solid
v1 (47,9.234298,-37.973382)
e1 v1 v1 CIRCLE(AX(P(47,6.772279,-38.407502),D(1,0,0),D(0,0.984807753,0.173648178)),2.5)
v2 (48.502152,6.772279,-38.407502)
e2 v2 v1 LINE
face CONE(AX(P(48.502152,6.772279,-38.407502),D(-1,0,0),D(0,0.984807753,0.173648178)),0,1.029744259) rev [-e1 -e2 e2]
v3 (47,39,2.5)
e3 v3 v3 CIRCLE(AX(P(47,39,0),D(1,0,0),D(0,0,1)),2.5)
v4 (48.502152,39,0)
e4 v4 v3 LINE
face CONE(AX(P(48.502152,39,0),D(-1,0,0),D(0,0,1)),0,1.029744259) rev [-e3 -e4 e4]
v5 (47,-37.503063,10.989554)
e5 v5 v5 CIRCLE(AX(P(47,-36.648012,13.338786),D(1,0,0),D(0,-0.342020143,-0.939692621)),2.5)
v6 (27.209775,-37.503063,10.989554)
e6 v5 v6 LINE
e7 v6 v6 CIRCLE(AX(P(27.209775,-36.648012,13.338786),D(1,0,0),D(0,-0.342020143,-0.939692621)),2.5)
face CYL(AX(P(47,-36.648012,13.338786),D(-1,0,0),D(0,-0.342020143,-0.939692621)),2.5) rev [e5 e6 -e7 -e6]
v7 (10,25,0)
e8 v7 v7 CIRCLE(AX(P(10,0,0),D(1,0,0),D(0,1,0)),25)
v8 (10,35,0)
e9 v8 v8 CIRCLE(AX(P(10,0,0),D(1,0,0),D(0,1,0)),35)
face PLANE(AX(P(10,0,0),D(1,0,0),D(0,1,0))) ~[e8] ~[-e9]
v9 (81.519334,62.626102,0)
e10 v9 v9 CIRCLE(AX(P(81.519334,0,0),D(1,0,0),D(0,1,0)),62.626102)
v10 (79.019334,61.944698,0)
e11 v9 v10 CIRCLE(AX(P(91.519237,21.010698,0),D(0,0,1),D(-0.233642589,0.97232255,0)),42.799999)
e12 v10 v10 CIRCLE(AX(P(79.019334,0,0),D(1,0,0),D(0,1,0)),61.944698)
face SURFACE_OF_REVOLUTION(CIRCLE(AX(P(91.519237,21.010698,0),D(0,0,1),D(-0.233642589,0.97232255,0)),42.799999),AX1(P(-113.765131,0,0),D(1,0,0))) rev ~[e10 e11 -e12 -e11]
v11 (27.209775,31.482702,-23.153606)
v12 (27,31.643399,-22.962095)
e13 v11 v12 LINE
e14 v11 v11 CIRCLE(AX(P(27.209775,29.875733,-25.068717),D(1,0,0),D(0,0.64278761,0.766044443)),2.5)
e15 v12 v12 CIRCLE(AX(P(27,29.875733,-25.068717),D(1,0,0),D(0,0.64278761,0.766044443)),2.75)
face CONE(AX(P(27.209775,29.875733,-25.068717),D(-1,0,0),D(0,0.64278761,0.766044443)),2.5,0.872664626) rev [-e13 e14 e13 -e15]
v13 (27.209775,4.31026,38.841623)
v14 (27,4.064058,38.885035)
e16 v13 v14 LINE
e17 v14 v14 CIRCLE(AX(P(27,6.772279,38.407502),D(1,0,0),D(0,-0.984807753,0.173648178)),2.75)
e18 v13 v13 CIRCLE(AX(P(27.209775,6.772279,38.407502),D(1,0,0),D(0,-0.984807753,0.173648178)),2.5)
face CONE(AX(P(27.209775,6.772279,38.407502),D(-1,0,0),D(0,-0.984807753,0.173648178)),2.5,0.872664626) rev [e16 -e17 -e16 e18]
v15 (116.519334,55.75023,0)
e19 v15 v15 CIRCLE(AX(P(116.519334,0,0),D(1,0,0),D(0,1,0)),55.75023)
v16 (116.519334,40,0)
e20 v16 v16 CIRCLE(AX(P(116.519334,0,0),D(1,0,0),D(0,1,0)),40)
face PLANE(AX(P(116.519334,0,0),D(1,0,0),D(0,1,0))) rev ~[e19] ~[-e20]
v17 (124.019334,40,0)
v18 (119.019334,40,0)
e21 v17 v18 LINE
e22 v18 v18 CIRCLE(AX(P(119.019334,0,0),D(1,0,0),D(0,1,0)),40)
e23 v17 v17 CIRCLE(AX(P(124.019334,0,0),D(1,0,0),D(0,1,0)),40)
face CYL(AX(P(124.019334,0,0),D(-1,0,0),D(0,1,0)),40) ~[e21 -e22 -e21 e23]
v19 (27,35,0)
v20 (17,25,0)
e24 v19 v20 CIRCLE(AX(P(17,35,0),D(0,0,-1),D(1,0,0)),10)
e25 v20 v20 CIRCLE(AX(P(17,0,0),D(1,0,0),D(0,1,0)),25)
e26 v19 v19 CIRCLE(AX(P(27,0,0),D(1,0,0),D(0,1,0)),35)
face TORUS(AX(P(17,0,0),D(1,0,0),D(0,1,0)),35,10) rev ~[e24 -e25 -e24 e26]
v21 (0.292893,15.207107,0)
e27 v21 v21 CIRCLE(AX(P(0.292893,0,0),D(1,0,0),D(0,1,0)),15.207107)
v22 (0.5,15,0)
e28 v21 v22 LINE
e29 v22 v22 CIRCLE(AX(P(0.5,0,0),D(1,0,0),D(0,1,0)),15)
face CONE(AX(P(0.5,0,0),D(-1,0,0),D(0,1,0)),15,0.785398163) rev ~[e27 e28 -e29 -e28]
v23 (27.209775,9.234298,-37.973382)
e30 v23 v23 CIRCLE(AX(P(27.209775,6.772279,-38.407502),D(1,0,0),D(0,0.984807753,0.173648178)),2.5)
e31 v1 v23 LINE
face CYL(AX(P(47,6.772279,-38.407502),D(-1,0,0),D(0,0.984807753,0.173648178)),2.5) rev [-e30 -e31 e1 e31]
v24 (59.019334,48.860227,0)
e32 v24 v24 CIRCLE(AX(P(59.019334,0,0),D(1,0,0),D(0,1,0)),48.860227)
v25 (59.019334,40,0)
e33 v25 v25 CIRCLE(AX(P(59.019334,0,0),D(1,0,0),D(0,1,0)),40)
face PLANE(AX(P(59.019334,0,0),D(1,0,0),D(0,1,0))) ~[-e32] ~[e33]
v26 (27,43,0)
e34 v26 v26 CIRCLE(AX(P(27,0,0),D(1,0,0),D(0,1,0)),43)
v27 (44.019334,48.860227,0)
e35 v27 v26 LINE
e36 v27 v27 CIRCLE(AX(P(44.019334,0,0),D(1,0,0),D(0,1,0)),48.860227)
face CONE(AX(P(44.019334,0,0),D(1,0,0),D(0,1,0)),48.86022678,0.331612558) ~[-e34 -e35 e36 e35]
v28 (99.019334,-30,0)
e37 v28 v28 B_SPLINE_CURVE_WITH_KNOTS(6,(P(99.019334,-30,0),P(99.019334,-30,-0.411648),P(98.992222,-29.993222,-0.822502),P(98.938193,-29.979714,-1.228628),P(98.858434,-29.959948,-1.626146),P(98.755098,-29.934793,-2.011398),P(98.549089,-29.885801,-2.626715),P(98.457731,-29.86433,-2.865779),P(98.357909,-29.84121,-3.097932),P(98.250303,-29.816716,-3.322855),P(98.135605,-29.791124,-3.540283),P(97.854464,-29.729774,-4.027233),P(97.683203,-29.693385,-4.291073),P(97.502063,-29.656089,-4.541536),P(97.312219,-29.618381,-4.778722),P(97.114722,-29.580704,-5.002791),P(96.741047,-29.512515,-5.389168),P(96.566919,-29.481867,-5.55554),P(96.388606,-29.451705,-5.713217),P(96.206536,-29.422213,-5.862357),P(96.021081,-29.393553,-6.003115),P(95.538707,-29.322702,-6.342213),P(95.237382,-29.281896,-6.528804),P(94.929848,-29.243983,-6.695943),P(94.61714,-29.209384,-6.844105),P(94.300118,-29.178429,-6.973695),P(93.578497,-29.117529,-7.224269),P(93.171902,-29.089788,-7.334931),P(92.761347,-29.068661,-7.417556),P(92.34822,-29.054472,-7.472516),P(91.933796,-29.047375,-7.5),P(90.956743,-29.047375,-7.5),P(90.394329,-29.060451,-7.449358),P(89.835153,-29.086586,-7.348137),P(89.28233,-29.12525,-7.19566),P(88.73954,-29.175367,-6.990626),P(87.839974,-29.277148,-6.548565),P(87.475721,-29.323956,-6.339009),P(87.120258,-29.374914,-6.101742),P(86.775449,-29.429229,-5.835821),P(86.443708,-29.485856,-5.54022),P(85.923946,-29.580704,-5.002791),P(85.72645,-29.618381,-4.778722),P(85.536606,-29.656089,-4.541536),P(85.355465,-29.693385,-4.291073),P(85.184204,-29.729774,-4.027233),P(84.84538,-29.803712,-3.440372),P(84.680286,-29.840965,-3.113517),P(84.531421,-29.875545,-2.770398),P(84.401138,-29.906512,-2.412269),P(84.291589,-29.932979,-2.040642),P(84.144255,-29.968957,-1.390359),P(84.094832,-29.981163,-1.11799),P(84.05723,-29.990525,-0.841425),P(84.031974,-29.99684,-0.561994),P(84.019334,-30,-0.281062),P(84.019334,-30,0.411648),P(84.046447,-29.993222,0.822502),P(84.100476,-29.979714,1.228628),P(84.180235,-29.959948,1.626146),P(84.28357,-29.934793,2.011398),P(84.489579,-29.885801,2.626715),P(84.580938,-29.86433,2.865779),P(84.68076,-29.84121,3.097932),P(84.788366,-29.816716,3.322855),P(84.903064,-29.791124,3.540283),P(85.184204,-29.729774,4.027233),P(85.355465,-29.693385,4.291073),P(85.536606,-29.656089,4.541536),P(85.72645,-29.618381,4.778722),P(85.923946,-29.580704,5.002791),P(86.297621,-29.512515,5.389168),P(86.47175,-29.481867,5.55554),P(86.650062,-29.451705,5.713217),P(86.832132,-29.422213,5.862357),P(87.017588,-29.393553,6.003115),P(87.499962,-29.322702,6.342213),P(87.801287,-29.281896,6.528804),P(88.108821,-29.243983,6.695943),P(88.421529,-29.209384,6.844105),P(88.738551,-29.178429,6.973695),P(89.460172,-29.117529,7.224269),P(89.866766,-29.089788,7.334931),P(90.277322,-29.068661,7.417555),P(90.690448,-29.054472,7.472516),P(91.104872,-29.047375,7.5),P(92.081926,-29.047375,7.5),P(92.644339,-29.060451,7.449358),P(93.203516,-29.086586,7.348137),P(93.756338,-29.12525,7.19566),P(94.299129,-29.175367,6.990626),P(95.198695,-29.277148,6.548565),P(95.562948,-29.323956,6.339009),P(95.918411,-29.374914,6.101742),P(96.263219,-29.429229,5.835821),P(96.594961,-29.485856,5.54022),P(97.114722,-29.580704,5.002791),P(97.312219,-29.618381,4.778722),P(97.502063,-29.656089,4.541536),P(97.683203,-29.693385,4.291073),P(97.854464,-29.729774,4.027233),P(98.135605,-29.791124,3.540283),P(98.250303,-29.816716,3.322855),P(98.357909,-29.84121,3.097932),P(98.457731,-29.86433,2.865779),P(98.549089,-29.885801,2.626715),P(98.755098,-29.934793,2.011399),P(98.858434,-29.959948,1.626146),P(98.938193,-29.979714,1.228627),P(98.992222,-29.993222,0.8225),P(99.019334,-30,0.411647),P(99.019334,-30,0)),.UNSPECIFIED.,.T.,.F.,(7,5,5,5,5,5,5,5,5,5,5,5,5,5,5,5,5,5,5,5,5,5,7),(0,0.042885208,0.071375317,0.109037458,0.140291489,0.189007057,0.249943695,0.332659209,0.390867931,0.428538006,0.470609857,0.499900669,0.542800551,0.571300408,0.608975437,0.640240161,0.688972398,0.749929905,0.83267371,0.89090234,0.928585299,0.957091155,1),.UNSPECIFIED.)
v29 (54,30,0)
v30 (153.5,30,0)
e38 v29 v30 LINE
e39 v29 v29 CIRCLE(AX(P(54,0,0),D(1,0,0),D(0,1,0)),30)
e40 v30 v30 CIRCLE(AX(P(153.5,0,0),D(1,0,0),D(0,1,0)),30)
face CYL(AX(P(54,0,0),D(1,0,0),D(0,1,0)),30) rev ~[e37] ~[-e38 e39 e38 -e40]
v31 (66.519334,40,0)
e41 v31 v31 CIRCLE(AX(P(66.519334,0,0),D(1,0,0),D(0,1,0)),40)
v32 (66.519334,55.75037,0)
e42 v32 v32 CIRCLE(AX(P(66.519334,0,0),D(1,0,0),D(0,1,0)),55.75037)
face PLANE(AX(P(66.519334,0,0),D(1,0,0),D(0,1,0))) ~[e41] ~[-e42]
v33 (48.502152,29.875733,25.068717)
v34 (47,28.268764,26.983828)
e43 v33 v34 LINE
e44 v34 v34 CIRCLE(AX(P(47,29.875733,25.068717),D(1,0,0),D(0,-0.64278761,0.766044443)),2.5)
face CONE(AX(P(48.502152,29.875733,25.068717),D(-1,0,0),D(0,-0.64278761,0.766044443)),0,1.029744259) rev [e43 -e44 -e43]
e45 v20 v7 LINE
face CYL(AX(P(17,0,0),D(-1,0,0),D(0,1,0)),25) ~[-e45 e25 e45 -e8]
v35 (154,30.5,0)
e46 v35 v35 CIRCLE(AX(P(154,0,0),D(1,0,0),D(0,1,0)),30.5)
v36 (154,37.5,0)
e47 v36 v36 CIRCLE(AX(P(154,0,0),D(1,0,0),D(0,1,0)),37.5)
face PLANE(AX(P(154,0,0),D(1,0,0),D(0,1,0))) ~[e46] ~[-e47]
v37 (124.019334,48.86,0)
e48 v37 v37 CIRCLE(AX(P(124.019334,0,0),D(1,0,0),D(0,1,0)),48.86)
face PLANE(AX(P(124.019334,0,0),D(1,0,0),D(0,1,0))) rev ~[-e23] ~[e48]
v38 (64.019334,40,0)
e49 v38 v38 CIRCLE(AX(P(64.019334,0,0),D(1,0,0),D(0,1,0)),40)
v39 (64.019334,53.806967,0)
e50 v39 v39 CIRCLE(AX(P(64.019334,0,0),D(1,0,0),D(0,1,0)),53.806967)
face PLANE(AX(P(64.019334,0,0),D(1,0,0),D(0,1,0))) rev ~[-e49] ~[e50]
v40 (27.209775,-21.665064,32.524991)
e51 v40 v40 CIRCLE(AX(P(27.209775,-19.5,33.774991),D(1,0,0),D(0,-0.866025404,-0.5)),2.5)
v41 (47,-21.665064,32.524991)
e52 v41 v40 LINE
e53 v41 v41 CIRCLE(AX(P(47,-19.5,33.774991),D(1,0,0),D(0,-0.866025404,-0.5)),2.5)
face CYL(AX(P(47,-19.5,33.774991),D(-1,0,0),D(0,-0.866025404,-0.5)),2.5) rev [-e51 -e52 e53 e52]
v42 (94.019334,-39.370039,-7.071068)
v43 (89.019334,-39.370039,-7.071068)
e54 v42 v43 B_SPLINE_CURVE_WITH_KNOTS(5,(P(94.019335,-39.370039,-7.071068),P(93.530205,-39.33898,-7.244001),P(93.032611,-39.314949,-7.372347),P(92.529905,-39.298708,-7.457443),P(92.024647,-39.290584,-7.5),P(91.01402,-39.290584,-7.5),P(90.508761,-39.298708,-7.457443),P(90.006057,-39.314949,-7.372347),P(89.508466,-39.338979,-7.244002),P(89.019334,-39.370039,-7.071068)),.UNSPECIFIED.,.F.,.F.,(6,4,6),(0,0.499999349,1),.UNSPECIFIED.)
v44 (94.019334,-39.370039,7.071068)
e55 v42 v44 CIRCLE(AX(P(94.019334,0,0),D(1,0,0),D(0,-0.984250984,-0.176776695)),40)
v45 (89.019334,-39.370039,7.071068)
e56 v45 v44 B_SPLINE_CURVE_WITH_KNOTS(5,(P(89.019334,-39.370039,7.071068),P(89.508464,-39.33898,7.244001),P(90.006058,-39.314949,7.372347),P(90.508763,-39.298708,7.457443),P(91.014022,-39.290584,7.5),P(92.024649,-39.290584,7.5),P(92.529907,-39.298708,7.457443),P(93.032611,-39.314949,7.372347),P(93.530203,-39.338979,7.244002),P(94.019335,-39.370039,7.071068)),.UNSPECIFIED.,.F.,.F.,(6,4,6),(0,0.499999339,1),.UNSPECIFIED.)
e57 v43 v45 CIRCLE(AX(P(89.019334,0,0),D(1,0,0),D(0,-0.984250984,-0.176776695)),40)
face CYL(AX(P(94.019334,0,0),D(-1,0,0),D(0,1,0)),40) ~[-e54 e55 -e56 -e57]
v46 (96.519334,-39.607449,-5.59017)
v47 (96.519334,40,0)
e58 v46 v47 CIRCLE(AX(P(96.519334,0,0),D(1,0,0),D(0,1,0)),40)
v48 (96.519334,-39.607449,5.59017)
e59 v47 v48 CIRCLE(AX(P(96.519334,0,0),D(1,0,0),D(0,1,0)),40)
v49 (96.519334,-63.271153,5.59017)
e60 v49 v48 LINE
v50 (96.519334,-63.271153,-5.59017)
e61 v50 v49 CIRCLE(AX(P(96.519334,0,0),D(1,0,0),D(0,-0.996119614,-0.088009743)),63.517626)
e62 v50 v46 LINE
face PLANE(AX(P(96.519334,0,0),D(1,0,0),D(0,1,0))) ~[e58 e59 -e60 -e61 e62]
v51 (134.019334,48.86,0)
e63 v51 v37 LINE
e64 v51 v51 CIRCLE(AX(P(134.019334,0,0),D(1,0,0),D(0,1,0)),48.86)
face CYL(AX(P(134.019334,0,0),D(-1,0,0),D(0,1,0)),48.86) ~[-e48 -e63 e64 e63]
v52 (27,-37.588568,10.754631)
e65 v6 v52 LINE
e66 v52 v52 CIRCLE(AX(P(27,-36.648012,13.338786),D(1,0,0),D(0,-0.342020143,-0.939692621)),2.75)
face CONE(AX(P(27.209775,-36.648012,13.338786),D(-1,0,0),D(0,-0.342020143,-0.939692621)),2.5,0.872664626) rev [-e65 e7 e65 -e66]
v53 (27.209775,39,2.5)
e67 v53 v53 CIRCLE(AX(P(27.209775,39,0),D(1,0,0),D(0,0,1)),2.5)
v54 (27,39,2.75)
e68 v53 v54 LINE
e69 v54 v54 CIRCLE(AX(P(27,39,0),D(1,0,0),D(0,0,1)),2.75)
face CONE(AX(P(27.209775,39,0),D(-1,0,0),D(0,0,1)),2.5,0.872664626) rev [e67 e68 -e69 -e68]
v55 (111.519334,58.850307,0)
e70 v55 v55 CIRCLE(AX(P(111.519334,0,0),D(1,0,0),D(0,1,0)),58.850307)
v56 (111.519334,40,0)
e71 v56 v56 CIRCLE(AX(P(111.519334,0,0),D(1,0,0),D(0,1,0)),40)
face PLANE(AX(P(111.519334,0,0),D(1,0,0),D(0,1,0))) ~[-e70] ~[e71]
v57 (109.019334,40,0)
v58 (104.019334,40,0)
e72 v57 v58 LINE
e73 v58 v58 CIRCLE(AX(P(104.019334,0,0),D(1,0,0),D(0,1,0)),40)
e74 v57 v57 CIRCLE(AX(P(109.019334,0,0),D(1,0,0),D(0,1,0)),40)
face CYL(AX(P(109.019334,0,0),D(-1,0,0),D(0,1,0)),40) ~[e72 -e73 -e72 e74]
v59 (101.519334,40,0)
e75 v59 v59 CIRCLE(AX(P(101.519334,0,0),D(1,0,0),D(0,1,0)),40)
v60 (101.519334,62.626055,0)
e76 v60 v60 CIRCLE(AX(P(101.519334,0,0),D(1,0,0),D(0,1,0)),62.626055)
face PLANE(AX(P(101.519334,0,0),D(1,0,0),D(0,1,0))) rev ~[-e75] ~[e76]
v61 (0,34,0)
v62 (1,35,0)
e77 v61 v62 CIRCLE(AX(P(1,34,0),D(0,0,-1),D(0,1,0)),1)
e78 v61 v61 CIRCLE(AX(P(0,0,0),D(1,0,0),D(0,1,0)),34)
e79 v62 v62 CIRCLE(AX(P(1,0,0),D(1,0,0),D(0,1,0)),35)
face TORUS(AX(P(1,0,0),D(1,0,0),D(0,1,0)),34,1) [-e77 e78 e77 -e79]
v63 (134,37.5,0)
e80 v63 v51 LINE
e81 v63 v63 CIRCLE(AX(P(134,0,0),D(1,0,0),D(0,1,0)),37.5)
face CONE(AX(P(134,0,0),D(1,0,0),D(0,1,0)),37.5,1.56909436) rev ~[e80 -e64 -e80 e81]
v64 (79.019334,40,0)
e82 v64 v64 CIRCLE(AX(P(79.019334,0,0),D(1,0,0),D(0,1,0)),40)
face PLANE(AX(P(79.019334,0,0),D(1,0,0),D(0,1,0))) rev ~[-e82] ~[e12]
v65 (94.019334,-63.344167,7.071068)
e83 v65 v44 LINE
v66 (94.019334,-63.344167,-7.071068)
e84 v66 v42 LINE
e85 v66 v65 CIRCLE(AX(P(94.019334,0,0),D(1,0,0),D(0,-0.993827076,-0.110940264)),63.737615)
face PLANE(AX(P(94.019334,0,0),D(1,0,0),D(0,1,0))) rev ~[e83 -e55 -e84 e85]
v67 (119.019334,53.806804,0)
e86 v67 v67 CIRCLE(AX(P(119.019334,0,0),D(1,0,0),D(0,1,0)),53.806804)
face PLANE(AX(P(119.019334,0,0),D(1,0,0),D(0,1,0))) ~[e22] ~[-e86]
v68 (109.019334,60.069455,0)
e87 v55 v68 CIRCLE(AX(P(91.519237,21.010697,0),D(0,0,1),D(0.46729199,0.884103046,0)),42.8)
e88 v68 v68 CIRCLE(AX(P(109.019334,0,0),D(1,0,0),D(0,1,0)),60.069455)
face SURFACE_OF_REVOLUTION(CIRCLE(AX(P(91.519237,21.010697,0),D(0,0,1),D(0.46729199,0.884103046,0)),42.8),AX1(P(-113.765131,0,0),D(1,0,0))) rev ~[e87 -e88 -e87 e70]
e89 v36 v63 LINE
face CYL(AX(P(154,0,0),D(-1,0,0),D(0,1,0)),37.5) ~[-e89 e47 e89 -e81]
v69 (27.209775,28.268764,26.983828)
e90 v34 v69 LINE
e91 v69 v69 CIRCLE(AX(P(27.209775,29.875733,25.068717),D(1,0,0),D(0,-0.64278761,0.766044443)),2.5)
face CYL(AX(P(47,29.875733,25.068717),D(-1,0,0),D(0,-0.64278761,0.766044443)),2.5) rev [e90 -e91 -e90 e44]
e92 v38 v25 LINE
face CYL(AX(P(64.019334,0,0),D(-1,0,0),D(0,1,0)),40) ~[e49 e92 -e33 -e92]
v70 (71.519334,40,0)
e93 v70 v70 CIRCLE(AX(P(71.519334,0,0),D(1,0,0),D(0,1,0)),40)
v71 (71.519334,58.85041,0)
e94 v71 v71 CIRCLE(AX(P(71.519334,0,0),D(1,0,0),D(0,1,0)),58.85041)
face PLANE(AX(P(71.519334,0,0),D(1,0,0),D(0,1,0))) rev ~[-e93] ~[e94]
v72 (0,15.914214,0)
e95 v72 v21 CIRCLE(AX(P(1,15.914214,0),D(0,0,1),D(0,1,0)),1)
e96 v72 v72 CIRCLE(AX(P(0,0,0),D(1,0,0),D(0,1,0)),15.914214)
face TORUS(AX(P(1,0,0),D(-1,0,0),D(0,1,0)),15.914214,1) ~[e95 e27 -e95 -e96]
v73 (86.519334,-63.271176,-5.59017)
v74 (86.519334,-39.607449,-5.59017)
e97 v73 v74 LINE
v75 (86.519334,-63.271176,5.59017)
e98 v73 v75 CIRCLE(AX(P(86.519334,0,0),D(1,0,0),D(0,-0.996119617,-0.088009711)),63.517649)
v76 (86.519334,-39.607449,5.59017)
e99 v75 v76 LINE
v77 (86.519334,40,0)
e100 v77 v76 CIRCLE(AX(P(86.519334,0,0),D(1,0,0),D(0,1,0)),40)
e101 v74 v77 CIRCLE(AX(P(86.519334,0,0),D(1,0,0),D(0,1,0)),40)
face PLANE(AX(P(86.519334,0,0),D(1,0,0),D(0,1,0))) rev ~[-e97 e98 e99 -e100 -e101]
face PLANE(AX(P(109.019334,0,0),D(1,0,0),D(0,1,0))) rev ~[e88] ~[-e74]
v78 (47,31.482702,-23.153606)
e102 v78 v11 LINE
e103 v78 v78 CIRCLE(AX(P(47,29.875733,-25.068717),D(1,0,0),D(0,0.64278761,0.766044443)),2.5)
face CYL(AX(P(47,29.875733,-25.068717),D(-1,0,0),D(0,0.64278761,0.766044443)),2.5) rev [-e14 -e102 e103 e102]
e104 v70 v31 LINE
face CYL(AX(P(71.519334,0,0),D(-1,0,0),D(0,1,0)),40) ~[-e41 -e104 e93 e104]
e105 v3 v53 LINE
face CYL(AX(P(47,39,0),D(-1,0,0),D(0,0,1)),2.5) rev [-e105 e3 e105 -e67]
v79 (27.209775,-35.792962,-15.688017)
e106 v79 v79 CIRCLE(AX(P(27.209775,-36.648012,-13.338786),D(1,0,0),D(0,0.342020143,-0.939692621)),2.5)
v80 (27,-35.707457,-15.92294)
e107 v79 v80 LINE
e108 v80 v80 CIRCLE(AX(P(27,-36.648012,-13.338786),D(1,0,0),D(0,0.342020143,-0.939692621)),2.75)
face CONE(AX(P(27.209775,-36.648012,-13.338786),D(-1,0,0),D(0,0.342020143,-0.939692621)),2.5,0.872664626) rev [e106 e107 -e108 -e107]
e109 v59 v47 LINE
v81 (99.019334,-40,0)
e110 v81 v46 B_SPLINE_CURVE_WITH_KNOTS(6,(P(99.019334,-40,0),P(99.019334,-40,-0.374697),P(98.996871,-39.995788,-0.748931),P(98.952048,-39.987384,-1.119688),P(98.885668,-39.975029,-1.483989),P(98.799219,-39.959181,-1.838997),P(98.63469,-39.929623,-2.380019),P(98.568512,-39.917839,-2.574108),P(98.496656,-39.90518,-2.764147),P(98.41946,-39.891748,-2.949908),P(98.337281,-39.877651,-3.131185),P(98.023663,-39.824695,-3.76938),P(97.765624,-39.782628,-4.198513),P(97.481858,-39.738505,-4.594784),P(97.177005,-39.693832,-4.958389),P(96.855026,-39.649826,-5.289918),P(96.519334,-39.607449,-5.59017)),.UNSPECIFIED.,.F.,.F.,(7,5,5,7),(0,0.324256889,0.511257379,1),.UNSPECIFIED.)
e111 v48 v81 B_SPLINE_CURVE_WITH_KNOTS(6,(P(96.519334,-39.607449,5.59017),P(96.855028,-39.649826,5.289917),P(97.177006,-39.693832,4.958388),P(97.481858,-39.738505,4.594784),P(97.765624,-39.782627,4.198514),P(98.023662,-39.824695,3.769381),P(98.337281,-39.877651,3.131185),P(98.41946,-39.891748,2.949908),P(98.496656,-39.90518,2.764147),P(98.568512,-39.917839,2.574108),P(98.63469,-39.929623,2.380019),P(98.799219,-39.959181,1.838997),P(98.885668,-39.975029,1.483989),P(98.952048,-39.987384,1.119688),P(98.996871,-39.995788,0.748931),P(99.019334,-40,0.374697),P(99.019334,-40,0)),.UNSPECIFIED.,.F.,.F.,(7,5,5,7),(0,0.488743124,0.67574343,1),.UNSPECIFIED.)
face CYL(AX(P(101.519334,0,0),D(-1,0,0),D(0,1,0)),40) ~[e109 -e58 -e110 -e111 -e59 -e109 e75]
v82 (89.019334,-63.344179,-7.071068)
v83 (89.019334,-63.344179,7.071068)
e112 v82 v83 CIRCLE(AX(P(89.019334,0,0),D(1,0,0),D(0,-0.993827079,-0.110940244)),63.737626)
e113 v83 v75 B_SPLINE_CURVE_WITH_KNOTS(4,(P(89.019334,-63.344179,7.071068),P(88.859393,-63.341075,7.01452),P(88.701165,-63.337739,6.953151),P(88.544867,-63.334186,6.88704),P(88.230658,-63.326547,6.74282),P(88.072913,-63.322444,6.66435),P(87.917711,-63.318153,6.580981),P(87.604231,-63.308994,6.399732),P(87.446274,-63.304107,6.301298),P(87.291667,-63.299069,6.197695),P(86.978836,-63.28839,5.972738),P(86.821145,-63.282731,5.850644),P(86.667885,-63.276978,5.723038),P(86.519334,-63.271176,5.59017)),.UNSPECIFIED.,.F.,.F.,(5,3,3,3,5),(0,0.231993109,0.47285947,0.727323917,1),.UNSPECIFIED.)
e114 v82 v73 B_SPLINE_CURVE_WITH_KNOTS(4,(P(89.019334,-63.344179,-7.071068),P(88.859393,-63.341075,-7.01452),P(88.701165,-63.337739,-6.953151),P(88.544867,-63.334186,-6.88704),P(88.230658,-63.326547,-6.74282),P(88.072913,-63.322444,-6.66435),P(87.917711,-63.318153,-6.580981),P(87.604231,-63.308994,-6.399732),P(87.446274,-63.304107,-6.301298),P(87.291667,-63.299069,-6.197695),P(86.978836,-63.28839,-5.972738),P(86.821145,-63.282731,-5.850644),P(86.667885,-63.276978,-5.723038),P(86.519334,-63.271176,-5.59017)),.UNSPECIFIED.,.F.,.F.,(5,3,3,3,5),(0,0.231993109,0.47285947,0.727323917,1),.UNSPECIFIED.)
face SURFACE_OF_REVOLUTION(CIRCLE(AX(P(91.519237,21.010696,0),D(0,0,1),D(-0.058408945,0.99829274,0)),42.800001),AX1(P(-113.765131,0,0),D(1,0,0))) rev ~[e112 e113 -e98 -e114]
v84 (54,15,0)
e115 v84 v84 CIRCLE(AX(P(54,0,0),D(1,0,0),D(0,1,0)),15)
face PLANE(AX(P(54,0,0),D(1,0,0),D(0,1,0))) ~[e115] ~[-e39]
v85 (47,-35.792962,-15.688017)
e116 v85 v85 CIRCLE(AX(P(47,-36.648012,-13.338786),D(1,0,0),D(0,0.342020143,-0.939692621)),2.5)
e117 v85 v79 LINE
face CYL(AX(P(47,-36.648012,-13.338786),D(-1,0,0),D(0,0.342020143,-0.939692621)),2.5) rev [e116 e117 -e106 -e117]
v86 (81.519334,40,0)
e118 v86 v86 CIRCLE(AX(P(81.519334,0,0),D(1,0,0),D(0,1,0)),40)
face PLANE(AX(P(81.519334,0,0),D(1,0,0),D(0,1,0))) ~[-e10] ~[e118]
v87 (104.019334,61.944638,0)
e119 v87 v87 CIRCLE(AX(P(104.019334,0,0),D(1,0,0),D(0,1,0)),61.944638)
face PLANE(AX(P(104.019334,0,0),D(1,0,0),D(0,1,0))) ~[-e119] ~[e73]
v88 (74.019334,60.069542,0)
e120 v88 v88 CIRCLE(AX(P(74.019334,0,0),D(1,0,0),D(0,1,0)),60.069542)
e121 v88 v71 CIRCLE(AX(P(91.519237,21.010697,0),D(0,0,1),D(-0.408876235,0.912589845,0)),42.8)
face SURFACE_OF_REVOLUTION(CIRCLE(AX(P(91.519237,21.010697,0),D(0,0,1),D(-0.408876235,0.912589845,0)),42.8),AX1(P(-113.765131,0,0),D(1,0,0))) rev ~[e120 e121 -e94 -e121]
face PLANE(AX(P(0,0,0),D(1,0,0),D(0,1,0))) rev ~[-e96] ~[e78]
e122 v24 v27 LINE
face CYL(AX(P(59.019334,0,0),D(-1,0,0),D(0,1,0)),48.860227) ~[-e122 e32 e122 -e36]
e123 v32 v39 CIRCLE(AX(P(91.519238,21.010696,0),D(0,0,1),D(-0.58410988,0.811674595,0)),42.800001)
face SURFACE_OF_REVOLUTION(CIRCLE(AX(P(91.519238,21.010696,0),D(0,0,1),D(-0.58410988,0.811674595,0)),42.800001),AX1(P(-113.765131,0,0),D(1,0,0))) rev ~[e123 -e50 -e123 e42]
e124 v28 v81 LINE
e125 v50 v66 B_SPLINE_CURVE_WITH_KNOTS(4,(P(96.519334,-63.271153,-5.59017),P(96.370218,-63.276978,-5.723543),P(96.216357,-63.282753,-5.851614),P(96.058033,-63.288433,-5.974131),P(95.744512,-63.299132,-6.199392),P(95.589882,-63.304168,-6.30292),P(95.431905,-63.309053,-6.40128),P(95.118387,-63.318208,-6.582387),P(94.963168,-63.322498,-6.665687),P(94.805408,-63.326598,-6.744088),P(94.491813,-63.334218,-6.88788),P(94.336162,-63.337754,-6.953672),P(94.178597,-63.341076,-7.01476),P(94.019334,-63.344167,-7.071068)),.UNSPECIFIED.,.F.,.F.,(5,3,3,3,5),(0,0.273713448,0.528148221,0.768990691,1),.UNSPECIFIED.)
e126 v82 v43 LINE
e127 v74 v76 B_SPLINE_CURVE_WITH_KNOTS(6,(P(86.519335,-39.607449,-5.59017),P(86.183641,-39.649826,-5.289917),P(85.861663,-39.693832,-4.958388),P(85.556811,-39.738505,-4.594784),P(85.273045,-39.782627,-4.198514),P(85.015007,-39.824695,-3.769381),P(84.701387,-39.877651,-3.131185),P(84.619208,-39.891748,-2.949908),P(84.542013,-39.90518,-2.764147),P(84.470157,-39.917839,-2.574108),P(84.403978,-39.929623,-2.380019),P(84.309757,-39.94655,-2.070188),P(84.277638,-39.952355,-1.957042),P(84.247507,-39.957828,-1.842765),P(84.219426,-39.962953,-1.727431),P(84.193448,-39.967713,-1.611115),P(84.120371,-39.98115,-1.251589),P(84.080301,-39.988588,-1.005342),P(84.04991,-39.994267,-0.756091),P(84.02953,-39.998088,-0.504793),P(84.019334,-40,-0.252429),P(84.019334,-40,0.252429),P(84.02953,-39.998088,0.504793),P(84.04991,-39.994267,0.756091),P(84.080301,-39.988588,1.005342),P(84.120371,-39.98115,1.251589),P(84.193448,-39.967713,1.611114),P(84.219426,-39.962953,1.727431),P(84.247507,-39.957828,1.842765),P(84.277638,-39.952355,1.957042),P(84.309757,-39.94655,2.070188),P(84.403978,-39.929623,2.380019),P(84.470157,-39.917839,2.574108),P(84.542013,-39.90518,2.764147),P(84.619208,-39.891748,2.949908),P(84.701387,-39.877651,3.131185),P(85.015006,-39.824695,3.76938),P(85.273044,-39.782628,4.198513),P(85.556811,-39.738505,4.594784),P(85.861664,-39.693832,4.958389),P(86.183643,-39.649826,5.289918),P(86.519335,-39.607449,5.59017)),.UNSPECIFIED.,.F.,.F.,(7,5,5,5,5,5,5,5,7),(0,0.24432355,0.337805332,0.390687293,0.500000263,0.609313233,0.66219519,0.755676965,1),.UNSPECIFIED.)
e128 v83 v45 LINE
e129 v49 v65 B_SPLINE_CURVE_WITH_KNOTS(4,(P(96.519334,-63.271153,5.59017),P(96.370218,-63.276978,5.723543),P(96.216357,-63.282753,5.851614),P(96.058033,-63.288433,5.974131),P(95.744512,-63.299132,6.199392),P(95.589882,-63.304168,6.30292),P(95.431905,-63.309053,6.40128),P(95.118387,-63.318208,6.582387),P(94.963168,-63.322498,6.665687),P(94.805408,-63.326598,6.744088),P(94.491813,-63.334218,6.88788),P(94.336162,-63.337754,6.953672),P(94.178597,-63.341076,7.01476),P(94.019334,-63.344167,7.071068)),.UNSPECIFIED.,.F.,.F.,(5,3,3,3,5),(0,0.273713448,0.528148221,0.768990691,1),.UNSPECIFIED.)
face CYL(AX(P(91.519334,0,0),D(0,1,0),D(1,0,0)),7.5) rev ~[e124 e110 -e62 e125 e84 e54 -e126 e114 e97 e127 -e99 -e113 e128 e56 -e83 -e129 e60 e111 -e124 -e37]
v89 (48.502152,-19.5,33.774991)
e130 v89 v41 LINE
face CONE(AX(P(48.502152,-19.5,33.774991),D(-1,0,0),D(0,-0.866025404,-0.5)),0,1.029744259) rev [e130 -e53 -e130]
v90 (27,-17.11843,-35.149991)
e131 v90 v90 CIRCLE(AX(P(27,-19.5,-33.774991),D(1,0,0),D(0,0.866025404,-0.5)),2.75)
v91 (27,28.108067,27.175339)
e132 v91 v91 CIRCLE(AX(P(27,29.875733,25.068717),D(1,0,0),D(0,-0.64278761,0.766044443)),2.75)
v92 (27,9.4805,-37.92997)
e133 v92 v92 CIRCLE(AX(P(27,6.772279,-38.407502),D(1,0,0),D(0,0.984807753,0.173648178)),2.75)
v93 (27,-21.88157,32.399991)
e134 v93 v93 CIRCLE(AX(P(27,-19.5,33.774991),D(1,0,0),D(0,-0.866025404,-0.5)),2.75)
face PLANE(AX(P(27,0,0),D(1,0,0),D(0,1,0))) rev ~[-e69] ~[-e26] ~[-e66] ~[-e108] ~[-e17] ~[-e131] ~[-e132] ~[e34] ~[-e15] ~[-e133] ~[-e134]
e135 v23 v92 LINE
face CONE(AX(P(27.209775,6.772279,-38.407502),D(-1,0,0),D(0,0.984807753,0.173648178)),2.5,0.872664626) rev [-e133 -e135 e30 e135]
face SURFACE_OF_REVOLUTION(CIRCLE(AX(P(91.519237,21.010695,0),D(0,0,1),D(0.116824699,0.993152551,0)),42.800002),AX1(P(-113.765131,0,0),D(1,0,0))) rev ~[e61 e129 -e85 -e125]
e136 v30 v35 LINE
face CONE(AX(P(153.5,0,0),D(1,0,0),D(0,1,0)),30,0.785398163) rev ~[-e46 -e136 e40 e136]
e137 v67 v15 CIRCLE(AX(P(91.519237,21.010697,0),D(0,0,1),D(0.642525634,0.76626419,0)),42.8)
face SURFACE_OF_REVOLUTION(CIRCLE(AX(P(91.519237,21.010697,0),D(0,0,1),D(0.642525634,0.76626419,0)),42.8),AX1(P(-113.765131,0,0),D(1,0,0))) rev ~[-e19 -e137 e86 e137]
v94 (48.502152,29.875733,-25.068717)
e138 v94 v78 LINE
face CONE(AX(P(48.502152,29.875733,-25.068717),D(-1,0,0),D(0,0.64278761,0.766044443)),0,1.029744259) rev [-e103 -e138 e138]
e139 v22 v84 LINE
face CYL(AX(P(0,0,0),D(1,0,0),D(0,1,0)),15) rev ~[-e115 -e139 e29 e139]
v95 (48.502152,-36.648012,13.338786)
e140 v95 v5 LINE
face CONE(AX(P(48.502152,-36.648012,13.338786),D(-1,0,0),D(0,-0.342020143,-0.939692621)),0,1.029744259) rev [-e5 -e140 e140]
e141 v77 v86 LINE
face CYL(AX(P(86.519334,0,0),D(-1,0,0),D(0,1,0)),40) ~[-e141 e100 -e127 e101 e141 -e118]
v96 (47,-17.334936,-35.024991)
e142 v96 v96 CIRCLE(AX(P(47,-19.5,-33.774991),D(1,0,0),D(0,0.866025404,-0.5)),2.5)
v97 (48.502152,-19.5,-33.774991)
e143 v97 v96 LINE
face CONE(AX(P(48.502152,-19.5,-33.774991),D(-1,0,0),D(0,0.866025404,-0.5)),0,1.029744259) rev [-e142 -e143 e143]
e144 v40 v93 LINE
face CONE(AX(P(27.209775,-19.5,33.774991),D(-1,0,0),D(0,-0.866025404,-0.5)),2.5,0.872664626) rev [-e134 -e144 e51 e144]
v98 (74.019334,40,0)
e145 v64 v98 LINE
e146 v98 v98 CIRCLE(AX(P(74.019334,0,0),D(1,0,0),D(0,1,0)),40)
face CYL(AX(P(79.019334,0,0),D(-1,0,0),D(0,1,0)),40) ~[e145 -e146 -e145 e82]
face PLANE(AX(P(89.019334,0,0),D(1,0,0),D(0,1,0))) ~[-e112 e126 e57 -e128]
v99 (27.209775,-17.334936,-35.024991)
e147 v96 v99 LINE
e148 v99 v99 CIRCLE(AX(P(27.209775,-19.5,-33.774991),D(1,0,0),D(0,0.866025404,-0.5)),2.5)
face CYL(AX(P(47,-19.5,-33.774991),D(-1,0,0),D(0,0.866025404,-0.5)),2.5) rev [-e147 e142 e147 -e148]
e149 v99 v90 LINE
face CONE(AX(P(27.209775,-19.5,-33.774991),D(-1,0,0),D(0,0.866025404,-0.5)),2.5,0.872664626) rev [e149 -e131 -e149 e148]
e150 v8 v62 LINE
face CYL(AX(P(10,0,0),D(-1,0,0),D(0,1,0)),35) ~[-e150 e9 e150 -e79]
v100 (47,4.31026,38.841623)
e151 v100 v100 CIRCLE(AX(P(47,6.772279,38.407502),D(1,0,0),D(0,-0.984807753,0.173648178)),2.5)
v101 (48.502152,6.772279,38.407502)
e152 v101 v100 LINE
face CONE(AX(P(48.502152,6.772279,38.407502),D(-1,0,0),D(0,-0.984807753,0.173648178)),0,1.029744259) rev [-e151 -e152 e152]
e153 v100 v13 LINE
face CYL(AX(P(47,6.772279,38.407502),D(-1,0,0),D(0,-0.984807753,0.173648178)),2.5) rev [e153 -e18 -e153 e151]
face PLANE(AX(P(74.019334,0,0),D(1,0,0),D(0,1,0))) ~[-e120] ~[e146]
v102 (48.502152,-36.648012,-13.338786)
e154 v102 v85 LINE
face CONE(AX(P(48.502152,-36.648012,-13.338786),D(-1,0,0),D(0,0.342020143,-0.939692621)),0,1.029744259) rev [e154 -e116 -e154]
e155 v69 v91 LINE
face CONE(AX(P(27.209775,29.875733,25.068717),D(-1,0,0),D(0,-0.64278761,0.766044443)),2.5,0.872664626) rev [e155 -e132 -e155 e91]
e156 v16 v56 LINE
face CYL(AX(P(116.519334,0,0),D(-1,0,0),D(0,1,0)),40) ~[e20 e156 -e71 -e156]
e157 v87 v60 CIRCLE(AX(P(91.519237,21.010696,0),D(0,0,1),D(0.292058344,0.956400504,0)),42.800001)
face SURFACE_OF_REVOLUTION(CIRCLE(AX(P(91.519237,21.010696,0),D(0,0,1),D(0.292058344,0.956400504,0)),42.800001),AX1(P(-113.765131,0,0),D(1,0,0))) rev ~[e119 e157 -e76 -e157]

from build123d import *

# Parameters (mm, degrees)
SKETCH4_R          = 7.5
CUT_EXTRUDE1_DEPTH = 179.440382209
CIRPATTERN1_COUNT  = 9
CHAMFER1_SIZE      = 0.5
FILLET2_R          = 1


with BuildPart() as part:
    # Sketch1 → Revolve1 (revolve)
    with BuildSketch(Plane.XY):
        with BuildLine():
            Line((0, 35), (0, 15))
            Line((0, 15), (54, 15))
            Line((54, 15), (54, 30))
            Line((54, 30), (154, 30))
            Line((154, 30), (154, 37.5))
            Line((154, 37.5), (134, 37.5))
            Line((134, 37.5), (134.019334361, 48.86))
            Line((134.019334361, 48.86), (124.019334361, 48.86))
            Line((124.019334361, 48.86), (124.019334361, 40))
            Line((124.019334361, 40), (119.019334361, 40))
            Line((119.019334361, 40), (119.019334361, 53.806804209))
            ThreePointArc((119.019334361, 53.806804209), (117.787313388, 54.801644975), (116.519334361, 55.750229717))
            Line((116.519334361, 55.750229717), (116.519334361, 40))
            Line((116.519334361, 40), (111.519334361, 40))
            Line((111.519334361, 40), (111.519334361, 58.850307256))
            ThreePointArc((111.519334361, 58.850307256), (110.279240504, 59.480194874), (109.019334361, 60.069455171))
            Line((109.019334361, 60.069455171), (109.019334361, 40))
            Line((109.019334361, 40), (104.019334361, 40))
            Line((104.019334361, 40), (104.019334361, 61.94463843))
            ThreePointArc((104.019334361, 61.94463843), (102.774492344, 62.304270611), (101.519334361, 62.626055303))
            Line((101.519334361, 62.626055303), (101.519334361, 40))
            Line((101.519334361, 40), (96.519334361, 40))
            Line((96.519334361, 40), (96.519334361, 63.51762606))
            ThreePointArc((96.519334361, 63.51762606), (95.27094714, 63.645948403), (94.019334361, 63.737614791))
            Line((94.019334361, 63.737614791), (94.019334361, 40))
            Line((94.019334361, 40), (89.019334361, 40))
            Line((89.019334361, 40), (89.019334361, 63.737626161))
            ThreePointArc((89.019334361, 63.737626161), (87.767721666, 63.64596551), (86.519334361, 63.517648918))
            Line((86.519334361, 63.517648918), (86.519334361, 40))
            Line((86.519334361, 40), (81.519334361, 40))
            Line((81.519334361, 40), (81.519334361, 62.626101999))
            ThreePointArc((81.519334361, 62.626101999), (80.26417648, 62.304323607), (79.019334361, 61.944697773))
            Line((79.019334361, 61.944697773), (79.019334361, 40))
            Line((79.019334361, 40), (74.019334361, 40))
            Line((74.019334361, 40), (74.019334361, 60.069542238))
            ThreePointArc((74.019334361, 60.069542238), (72.75942837, 59.480289713), (71.519334361, 58.850409967))
            Line((71.519334361, 58.850409967), (71.519334361, 40))
            Line((71.519334361, 40), (66.519334361, 40))
            Line((66.519334361, 40), (66.519334361, 55.750369564))
            ThreePointArc((66.519334361, 55.750369564), (65.251355628, 54.801796268), (64.019334361, 53.806967156))
            Line((64.019334361, 53.806967156), (64.019334361, 40))
            Line((64.019334361, 40), (59.019334361, 40))
            Line((59.019334361, 40), (59.019334361, 48.86022678))
            Line((59.019334361, 48.86022678), (44.019334361, 48.86022678))
            Line((44.019334361, 48.86022678), (27, 43))
            Line((27, 43), (27, 35))
            ThreePointArc((27, 35), (24.071067812, 27.928932188), (17, 25))
            Line((17, 25), (10, 25))
            Line((10, 25), (10, 35))
            Line((10, 35), (0, 35))
        make_face()
    revolve(axis=Axis((-113.765130781, 0, 0), (1, 0, 0)))

    # Sketch4 → Cut-Extrude1 (cut, through all)
    with BuildSketch(Plane(origin=(0, 0, 0), x_dir=(1, 0, 0), z_dir=(0, 1, 0))):
        with Locations((91.519334361, 0)):
            Circle(SKETCH4_R)
    extrude(amount=-CUT_EXTRUDE1_DEPTH, mode=Mode.SUBTRACT)

    # Sketch11 → Ø5.0 mm Dowel Holes3 (revolve, cut)
    with BuildSketch(Plane(origin=(27, 39, 0), x_dir=(0, 0, 1), z_dir=(0, 1, 0))):
        Polygon((0, 0), (0, 21.502151548), (2.5, 20), (2.5, 0.209774908), (2.75, 0), align=None)
    f_5_0_mm_dowel_holes3 = revolve(axis=Axis((20.65, 39, 0), (1, 0, 0)), mode=Mode.SUBTRACT)

    # CirPattern1: Ø5.0 mm Dowel Holes3 ×9 about axis
    cirpattern1_axis = Axis((54, 0, 0), (-1, 0, 0))
    for i in range(1, CIRPATTERN1_COUNT):
        add(f_5_0_mm_dowel_holes3.rotate(cirpattern1_axis, i * 360 / CIRPATTERN1_COUNT), mode=Mode.SUBTRACT)

    # Chamfer1
    chamfer1_edges = [part.edges().sort_by_distance(p)[0] for p in [
        (0, -15, 0),
        (154, -30, 0),
    ]]
    chamfer(chamfer1_edges, length=CHAMFER1_SIZE)

    # Fillet2
    fillet2_edges = [part.edges().sort_by_distance(p)[0] for p in [
        (0, -35, 0),
        (0, -15.5, 0),
    ]]
    fillet(fillet2_edges, radius=FILLET2_R)


solid = part.part
